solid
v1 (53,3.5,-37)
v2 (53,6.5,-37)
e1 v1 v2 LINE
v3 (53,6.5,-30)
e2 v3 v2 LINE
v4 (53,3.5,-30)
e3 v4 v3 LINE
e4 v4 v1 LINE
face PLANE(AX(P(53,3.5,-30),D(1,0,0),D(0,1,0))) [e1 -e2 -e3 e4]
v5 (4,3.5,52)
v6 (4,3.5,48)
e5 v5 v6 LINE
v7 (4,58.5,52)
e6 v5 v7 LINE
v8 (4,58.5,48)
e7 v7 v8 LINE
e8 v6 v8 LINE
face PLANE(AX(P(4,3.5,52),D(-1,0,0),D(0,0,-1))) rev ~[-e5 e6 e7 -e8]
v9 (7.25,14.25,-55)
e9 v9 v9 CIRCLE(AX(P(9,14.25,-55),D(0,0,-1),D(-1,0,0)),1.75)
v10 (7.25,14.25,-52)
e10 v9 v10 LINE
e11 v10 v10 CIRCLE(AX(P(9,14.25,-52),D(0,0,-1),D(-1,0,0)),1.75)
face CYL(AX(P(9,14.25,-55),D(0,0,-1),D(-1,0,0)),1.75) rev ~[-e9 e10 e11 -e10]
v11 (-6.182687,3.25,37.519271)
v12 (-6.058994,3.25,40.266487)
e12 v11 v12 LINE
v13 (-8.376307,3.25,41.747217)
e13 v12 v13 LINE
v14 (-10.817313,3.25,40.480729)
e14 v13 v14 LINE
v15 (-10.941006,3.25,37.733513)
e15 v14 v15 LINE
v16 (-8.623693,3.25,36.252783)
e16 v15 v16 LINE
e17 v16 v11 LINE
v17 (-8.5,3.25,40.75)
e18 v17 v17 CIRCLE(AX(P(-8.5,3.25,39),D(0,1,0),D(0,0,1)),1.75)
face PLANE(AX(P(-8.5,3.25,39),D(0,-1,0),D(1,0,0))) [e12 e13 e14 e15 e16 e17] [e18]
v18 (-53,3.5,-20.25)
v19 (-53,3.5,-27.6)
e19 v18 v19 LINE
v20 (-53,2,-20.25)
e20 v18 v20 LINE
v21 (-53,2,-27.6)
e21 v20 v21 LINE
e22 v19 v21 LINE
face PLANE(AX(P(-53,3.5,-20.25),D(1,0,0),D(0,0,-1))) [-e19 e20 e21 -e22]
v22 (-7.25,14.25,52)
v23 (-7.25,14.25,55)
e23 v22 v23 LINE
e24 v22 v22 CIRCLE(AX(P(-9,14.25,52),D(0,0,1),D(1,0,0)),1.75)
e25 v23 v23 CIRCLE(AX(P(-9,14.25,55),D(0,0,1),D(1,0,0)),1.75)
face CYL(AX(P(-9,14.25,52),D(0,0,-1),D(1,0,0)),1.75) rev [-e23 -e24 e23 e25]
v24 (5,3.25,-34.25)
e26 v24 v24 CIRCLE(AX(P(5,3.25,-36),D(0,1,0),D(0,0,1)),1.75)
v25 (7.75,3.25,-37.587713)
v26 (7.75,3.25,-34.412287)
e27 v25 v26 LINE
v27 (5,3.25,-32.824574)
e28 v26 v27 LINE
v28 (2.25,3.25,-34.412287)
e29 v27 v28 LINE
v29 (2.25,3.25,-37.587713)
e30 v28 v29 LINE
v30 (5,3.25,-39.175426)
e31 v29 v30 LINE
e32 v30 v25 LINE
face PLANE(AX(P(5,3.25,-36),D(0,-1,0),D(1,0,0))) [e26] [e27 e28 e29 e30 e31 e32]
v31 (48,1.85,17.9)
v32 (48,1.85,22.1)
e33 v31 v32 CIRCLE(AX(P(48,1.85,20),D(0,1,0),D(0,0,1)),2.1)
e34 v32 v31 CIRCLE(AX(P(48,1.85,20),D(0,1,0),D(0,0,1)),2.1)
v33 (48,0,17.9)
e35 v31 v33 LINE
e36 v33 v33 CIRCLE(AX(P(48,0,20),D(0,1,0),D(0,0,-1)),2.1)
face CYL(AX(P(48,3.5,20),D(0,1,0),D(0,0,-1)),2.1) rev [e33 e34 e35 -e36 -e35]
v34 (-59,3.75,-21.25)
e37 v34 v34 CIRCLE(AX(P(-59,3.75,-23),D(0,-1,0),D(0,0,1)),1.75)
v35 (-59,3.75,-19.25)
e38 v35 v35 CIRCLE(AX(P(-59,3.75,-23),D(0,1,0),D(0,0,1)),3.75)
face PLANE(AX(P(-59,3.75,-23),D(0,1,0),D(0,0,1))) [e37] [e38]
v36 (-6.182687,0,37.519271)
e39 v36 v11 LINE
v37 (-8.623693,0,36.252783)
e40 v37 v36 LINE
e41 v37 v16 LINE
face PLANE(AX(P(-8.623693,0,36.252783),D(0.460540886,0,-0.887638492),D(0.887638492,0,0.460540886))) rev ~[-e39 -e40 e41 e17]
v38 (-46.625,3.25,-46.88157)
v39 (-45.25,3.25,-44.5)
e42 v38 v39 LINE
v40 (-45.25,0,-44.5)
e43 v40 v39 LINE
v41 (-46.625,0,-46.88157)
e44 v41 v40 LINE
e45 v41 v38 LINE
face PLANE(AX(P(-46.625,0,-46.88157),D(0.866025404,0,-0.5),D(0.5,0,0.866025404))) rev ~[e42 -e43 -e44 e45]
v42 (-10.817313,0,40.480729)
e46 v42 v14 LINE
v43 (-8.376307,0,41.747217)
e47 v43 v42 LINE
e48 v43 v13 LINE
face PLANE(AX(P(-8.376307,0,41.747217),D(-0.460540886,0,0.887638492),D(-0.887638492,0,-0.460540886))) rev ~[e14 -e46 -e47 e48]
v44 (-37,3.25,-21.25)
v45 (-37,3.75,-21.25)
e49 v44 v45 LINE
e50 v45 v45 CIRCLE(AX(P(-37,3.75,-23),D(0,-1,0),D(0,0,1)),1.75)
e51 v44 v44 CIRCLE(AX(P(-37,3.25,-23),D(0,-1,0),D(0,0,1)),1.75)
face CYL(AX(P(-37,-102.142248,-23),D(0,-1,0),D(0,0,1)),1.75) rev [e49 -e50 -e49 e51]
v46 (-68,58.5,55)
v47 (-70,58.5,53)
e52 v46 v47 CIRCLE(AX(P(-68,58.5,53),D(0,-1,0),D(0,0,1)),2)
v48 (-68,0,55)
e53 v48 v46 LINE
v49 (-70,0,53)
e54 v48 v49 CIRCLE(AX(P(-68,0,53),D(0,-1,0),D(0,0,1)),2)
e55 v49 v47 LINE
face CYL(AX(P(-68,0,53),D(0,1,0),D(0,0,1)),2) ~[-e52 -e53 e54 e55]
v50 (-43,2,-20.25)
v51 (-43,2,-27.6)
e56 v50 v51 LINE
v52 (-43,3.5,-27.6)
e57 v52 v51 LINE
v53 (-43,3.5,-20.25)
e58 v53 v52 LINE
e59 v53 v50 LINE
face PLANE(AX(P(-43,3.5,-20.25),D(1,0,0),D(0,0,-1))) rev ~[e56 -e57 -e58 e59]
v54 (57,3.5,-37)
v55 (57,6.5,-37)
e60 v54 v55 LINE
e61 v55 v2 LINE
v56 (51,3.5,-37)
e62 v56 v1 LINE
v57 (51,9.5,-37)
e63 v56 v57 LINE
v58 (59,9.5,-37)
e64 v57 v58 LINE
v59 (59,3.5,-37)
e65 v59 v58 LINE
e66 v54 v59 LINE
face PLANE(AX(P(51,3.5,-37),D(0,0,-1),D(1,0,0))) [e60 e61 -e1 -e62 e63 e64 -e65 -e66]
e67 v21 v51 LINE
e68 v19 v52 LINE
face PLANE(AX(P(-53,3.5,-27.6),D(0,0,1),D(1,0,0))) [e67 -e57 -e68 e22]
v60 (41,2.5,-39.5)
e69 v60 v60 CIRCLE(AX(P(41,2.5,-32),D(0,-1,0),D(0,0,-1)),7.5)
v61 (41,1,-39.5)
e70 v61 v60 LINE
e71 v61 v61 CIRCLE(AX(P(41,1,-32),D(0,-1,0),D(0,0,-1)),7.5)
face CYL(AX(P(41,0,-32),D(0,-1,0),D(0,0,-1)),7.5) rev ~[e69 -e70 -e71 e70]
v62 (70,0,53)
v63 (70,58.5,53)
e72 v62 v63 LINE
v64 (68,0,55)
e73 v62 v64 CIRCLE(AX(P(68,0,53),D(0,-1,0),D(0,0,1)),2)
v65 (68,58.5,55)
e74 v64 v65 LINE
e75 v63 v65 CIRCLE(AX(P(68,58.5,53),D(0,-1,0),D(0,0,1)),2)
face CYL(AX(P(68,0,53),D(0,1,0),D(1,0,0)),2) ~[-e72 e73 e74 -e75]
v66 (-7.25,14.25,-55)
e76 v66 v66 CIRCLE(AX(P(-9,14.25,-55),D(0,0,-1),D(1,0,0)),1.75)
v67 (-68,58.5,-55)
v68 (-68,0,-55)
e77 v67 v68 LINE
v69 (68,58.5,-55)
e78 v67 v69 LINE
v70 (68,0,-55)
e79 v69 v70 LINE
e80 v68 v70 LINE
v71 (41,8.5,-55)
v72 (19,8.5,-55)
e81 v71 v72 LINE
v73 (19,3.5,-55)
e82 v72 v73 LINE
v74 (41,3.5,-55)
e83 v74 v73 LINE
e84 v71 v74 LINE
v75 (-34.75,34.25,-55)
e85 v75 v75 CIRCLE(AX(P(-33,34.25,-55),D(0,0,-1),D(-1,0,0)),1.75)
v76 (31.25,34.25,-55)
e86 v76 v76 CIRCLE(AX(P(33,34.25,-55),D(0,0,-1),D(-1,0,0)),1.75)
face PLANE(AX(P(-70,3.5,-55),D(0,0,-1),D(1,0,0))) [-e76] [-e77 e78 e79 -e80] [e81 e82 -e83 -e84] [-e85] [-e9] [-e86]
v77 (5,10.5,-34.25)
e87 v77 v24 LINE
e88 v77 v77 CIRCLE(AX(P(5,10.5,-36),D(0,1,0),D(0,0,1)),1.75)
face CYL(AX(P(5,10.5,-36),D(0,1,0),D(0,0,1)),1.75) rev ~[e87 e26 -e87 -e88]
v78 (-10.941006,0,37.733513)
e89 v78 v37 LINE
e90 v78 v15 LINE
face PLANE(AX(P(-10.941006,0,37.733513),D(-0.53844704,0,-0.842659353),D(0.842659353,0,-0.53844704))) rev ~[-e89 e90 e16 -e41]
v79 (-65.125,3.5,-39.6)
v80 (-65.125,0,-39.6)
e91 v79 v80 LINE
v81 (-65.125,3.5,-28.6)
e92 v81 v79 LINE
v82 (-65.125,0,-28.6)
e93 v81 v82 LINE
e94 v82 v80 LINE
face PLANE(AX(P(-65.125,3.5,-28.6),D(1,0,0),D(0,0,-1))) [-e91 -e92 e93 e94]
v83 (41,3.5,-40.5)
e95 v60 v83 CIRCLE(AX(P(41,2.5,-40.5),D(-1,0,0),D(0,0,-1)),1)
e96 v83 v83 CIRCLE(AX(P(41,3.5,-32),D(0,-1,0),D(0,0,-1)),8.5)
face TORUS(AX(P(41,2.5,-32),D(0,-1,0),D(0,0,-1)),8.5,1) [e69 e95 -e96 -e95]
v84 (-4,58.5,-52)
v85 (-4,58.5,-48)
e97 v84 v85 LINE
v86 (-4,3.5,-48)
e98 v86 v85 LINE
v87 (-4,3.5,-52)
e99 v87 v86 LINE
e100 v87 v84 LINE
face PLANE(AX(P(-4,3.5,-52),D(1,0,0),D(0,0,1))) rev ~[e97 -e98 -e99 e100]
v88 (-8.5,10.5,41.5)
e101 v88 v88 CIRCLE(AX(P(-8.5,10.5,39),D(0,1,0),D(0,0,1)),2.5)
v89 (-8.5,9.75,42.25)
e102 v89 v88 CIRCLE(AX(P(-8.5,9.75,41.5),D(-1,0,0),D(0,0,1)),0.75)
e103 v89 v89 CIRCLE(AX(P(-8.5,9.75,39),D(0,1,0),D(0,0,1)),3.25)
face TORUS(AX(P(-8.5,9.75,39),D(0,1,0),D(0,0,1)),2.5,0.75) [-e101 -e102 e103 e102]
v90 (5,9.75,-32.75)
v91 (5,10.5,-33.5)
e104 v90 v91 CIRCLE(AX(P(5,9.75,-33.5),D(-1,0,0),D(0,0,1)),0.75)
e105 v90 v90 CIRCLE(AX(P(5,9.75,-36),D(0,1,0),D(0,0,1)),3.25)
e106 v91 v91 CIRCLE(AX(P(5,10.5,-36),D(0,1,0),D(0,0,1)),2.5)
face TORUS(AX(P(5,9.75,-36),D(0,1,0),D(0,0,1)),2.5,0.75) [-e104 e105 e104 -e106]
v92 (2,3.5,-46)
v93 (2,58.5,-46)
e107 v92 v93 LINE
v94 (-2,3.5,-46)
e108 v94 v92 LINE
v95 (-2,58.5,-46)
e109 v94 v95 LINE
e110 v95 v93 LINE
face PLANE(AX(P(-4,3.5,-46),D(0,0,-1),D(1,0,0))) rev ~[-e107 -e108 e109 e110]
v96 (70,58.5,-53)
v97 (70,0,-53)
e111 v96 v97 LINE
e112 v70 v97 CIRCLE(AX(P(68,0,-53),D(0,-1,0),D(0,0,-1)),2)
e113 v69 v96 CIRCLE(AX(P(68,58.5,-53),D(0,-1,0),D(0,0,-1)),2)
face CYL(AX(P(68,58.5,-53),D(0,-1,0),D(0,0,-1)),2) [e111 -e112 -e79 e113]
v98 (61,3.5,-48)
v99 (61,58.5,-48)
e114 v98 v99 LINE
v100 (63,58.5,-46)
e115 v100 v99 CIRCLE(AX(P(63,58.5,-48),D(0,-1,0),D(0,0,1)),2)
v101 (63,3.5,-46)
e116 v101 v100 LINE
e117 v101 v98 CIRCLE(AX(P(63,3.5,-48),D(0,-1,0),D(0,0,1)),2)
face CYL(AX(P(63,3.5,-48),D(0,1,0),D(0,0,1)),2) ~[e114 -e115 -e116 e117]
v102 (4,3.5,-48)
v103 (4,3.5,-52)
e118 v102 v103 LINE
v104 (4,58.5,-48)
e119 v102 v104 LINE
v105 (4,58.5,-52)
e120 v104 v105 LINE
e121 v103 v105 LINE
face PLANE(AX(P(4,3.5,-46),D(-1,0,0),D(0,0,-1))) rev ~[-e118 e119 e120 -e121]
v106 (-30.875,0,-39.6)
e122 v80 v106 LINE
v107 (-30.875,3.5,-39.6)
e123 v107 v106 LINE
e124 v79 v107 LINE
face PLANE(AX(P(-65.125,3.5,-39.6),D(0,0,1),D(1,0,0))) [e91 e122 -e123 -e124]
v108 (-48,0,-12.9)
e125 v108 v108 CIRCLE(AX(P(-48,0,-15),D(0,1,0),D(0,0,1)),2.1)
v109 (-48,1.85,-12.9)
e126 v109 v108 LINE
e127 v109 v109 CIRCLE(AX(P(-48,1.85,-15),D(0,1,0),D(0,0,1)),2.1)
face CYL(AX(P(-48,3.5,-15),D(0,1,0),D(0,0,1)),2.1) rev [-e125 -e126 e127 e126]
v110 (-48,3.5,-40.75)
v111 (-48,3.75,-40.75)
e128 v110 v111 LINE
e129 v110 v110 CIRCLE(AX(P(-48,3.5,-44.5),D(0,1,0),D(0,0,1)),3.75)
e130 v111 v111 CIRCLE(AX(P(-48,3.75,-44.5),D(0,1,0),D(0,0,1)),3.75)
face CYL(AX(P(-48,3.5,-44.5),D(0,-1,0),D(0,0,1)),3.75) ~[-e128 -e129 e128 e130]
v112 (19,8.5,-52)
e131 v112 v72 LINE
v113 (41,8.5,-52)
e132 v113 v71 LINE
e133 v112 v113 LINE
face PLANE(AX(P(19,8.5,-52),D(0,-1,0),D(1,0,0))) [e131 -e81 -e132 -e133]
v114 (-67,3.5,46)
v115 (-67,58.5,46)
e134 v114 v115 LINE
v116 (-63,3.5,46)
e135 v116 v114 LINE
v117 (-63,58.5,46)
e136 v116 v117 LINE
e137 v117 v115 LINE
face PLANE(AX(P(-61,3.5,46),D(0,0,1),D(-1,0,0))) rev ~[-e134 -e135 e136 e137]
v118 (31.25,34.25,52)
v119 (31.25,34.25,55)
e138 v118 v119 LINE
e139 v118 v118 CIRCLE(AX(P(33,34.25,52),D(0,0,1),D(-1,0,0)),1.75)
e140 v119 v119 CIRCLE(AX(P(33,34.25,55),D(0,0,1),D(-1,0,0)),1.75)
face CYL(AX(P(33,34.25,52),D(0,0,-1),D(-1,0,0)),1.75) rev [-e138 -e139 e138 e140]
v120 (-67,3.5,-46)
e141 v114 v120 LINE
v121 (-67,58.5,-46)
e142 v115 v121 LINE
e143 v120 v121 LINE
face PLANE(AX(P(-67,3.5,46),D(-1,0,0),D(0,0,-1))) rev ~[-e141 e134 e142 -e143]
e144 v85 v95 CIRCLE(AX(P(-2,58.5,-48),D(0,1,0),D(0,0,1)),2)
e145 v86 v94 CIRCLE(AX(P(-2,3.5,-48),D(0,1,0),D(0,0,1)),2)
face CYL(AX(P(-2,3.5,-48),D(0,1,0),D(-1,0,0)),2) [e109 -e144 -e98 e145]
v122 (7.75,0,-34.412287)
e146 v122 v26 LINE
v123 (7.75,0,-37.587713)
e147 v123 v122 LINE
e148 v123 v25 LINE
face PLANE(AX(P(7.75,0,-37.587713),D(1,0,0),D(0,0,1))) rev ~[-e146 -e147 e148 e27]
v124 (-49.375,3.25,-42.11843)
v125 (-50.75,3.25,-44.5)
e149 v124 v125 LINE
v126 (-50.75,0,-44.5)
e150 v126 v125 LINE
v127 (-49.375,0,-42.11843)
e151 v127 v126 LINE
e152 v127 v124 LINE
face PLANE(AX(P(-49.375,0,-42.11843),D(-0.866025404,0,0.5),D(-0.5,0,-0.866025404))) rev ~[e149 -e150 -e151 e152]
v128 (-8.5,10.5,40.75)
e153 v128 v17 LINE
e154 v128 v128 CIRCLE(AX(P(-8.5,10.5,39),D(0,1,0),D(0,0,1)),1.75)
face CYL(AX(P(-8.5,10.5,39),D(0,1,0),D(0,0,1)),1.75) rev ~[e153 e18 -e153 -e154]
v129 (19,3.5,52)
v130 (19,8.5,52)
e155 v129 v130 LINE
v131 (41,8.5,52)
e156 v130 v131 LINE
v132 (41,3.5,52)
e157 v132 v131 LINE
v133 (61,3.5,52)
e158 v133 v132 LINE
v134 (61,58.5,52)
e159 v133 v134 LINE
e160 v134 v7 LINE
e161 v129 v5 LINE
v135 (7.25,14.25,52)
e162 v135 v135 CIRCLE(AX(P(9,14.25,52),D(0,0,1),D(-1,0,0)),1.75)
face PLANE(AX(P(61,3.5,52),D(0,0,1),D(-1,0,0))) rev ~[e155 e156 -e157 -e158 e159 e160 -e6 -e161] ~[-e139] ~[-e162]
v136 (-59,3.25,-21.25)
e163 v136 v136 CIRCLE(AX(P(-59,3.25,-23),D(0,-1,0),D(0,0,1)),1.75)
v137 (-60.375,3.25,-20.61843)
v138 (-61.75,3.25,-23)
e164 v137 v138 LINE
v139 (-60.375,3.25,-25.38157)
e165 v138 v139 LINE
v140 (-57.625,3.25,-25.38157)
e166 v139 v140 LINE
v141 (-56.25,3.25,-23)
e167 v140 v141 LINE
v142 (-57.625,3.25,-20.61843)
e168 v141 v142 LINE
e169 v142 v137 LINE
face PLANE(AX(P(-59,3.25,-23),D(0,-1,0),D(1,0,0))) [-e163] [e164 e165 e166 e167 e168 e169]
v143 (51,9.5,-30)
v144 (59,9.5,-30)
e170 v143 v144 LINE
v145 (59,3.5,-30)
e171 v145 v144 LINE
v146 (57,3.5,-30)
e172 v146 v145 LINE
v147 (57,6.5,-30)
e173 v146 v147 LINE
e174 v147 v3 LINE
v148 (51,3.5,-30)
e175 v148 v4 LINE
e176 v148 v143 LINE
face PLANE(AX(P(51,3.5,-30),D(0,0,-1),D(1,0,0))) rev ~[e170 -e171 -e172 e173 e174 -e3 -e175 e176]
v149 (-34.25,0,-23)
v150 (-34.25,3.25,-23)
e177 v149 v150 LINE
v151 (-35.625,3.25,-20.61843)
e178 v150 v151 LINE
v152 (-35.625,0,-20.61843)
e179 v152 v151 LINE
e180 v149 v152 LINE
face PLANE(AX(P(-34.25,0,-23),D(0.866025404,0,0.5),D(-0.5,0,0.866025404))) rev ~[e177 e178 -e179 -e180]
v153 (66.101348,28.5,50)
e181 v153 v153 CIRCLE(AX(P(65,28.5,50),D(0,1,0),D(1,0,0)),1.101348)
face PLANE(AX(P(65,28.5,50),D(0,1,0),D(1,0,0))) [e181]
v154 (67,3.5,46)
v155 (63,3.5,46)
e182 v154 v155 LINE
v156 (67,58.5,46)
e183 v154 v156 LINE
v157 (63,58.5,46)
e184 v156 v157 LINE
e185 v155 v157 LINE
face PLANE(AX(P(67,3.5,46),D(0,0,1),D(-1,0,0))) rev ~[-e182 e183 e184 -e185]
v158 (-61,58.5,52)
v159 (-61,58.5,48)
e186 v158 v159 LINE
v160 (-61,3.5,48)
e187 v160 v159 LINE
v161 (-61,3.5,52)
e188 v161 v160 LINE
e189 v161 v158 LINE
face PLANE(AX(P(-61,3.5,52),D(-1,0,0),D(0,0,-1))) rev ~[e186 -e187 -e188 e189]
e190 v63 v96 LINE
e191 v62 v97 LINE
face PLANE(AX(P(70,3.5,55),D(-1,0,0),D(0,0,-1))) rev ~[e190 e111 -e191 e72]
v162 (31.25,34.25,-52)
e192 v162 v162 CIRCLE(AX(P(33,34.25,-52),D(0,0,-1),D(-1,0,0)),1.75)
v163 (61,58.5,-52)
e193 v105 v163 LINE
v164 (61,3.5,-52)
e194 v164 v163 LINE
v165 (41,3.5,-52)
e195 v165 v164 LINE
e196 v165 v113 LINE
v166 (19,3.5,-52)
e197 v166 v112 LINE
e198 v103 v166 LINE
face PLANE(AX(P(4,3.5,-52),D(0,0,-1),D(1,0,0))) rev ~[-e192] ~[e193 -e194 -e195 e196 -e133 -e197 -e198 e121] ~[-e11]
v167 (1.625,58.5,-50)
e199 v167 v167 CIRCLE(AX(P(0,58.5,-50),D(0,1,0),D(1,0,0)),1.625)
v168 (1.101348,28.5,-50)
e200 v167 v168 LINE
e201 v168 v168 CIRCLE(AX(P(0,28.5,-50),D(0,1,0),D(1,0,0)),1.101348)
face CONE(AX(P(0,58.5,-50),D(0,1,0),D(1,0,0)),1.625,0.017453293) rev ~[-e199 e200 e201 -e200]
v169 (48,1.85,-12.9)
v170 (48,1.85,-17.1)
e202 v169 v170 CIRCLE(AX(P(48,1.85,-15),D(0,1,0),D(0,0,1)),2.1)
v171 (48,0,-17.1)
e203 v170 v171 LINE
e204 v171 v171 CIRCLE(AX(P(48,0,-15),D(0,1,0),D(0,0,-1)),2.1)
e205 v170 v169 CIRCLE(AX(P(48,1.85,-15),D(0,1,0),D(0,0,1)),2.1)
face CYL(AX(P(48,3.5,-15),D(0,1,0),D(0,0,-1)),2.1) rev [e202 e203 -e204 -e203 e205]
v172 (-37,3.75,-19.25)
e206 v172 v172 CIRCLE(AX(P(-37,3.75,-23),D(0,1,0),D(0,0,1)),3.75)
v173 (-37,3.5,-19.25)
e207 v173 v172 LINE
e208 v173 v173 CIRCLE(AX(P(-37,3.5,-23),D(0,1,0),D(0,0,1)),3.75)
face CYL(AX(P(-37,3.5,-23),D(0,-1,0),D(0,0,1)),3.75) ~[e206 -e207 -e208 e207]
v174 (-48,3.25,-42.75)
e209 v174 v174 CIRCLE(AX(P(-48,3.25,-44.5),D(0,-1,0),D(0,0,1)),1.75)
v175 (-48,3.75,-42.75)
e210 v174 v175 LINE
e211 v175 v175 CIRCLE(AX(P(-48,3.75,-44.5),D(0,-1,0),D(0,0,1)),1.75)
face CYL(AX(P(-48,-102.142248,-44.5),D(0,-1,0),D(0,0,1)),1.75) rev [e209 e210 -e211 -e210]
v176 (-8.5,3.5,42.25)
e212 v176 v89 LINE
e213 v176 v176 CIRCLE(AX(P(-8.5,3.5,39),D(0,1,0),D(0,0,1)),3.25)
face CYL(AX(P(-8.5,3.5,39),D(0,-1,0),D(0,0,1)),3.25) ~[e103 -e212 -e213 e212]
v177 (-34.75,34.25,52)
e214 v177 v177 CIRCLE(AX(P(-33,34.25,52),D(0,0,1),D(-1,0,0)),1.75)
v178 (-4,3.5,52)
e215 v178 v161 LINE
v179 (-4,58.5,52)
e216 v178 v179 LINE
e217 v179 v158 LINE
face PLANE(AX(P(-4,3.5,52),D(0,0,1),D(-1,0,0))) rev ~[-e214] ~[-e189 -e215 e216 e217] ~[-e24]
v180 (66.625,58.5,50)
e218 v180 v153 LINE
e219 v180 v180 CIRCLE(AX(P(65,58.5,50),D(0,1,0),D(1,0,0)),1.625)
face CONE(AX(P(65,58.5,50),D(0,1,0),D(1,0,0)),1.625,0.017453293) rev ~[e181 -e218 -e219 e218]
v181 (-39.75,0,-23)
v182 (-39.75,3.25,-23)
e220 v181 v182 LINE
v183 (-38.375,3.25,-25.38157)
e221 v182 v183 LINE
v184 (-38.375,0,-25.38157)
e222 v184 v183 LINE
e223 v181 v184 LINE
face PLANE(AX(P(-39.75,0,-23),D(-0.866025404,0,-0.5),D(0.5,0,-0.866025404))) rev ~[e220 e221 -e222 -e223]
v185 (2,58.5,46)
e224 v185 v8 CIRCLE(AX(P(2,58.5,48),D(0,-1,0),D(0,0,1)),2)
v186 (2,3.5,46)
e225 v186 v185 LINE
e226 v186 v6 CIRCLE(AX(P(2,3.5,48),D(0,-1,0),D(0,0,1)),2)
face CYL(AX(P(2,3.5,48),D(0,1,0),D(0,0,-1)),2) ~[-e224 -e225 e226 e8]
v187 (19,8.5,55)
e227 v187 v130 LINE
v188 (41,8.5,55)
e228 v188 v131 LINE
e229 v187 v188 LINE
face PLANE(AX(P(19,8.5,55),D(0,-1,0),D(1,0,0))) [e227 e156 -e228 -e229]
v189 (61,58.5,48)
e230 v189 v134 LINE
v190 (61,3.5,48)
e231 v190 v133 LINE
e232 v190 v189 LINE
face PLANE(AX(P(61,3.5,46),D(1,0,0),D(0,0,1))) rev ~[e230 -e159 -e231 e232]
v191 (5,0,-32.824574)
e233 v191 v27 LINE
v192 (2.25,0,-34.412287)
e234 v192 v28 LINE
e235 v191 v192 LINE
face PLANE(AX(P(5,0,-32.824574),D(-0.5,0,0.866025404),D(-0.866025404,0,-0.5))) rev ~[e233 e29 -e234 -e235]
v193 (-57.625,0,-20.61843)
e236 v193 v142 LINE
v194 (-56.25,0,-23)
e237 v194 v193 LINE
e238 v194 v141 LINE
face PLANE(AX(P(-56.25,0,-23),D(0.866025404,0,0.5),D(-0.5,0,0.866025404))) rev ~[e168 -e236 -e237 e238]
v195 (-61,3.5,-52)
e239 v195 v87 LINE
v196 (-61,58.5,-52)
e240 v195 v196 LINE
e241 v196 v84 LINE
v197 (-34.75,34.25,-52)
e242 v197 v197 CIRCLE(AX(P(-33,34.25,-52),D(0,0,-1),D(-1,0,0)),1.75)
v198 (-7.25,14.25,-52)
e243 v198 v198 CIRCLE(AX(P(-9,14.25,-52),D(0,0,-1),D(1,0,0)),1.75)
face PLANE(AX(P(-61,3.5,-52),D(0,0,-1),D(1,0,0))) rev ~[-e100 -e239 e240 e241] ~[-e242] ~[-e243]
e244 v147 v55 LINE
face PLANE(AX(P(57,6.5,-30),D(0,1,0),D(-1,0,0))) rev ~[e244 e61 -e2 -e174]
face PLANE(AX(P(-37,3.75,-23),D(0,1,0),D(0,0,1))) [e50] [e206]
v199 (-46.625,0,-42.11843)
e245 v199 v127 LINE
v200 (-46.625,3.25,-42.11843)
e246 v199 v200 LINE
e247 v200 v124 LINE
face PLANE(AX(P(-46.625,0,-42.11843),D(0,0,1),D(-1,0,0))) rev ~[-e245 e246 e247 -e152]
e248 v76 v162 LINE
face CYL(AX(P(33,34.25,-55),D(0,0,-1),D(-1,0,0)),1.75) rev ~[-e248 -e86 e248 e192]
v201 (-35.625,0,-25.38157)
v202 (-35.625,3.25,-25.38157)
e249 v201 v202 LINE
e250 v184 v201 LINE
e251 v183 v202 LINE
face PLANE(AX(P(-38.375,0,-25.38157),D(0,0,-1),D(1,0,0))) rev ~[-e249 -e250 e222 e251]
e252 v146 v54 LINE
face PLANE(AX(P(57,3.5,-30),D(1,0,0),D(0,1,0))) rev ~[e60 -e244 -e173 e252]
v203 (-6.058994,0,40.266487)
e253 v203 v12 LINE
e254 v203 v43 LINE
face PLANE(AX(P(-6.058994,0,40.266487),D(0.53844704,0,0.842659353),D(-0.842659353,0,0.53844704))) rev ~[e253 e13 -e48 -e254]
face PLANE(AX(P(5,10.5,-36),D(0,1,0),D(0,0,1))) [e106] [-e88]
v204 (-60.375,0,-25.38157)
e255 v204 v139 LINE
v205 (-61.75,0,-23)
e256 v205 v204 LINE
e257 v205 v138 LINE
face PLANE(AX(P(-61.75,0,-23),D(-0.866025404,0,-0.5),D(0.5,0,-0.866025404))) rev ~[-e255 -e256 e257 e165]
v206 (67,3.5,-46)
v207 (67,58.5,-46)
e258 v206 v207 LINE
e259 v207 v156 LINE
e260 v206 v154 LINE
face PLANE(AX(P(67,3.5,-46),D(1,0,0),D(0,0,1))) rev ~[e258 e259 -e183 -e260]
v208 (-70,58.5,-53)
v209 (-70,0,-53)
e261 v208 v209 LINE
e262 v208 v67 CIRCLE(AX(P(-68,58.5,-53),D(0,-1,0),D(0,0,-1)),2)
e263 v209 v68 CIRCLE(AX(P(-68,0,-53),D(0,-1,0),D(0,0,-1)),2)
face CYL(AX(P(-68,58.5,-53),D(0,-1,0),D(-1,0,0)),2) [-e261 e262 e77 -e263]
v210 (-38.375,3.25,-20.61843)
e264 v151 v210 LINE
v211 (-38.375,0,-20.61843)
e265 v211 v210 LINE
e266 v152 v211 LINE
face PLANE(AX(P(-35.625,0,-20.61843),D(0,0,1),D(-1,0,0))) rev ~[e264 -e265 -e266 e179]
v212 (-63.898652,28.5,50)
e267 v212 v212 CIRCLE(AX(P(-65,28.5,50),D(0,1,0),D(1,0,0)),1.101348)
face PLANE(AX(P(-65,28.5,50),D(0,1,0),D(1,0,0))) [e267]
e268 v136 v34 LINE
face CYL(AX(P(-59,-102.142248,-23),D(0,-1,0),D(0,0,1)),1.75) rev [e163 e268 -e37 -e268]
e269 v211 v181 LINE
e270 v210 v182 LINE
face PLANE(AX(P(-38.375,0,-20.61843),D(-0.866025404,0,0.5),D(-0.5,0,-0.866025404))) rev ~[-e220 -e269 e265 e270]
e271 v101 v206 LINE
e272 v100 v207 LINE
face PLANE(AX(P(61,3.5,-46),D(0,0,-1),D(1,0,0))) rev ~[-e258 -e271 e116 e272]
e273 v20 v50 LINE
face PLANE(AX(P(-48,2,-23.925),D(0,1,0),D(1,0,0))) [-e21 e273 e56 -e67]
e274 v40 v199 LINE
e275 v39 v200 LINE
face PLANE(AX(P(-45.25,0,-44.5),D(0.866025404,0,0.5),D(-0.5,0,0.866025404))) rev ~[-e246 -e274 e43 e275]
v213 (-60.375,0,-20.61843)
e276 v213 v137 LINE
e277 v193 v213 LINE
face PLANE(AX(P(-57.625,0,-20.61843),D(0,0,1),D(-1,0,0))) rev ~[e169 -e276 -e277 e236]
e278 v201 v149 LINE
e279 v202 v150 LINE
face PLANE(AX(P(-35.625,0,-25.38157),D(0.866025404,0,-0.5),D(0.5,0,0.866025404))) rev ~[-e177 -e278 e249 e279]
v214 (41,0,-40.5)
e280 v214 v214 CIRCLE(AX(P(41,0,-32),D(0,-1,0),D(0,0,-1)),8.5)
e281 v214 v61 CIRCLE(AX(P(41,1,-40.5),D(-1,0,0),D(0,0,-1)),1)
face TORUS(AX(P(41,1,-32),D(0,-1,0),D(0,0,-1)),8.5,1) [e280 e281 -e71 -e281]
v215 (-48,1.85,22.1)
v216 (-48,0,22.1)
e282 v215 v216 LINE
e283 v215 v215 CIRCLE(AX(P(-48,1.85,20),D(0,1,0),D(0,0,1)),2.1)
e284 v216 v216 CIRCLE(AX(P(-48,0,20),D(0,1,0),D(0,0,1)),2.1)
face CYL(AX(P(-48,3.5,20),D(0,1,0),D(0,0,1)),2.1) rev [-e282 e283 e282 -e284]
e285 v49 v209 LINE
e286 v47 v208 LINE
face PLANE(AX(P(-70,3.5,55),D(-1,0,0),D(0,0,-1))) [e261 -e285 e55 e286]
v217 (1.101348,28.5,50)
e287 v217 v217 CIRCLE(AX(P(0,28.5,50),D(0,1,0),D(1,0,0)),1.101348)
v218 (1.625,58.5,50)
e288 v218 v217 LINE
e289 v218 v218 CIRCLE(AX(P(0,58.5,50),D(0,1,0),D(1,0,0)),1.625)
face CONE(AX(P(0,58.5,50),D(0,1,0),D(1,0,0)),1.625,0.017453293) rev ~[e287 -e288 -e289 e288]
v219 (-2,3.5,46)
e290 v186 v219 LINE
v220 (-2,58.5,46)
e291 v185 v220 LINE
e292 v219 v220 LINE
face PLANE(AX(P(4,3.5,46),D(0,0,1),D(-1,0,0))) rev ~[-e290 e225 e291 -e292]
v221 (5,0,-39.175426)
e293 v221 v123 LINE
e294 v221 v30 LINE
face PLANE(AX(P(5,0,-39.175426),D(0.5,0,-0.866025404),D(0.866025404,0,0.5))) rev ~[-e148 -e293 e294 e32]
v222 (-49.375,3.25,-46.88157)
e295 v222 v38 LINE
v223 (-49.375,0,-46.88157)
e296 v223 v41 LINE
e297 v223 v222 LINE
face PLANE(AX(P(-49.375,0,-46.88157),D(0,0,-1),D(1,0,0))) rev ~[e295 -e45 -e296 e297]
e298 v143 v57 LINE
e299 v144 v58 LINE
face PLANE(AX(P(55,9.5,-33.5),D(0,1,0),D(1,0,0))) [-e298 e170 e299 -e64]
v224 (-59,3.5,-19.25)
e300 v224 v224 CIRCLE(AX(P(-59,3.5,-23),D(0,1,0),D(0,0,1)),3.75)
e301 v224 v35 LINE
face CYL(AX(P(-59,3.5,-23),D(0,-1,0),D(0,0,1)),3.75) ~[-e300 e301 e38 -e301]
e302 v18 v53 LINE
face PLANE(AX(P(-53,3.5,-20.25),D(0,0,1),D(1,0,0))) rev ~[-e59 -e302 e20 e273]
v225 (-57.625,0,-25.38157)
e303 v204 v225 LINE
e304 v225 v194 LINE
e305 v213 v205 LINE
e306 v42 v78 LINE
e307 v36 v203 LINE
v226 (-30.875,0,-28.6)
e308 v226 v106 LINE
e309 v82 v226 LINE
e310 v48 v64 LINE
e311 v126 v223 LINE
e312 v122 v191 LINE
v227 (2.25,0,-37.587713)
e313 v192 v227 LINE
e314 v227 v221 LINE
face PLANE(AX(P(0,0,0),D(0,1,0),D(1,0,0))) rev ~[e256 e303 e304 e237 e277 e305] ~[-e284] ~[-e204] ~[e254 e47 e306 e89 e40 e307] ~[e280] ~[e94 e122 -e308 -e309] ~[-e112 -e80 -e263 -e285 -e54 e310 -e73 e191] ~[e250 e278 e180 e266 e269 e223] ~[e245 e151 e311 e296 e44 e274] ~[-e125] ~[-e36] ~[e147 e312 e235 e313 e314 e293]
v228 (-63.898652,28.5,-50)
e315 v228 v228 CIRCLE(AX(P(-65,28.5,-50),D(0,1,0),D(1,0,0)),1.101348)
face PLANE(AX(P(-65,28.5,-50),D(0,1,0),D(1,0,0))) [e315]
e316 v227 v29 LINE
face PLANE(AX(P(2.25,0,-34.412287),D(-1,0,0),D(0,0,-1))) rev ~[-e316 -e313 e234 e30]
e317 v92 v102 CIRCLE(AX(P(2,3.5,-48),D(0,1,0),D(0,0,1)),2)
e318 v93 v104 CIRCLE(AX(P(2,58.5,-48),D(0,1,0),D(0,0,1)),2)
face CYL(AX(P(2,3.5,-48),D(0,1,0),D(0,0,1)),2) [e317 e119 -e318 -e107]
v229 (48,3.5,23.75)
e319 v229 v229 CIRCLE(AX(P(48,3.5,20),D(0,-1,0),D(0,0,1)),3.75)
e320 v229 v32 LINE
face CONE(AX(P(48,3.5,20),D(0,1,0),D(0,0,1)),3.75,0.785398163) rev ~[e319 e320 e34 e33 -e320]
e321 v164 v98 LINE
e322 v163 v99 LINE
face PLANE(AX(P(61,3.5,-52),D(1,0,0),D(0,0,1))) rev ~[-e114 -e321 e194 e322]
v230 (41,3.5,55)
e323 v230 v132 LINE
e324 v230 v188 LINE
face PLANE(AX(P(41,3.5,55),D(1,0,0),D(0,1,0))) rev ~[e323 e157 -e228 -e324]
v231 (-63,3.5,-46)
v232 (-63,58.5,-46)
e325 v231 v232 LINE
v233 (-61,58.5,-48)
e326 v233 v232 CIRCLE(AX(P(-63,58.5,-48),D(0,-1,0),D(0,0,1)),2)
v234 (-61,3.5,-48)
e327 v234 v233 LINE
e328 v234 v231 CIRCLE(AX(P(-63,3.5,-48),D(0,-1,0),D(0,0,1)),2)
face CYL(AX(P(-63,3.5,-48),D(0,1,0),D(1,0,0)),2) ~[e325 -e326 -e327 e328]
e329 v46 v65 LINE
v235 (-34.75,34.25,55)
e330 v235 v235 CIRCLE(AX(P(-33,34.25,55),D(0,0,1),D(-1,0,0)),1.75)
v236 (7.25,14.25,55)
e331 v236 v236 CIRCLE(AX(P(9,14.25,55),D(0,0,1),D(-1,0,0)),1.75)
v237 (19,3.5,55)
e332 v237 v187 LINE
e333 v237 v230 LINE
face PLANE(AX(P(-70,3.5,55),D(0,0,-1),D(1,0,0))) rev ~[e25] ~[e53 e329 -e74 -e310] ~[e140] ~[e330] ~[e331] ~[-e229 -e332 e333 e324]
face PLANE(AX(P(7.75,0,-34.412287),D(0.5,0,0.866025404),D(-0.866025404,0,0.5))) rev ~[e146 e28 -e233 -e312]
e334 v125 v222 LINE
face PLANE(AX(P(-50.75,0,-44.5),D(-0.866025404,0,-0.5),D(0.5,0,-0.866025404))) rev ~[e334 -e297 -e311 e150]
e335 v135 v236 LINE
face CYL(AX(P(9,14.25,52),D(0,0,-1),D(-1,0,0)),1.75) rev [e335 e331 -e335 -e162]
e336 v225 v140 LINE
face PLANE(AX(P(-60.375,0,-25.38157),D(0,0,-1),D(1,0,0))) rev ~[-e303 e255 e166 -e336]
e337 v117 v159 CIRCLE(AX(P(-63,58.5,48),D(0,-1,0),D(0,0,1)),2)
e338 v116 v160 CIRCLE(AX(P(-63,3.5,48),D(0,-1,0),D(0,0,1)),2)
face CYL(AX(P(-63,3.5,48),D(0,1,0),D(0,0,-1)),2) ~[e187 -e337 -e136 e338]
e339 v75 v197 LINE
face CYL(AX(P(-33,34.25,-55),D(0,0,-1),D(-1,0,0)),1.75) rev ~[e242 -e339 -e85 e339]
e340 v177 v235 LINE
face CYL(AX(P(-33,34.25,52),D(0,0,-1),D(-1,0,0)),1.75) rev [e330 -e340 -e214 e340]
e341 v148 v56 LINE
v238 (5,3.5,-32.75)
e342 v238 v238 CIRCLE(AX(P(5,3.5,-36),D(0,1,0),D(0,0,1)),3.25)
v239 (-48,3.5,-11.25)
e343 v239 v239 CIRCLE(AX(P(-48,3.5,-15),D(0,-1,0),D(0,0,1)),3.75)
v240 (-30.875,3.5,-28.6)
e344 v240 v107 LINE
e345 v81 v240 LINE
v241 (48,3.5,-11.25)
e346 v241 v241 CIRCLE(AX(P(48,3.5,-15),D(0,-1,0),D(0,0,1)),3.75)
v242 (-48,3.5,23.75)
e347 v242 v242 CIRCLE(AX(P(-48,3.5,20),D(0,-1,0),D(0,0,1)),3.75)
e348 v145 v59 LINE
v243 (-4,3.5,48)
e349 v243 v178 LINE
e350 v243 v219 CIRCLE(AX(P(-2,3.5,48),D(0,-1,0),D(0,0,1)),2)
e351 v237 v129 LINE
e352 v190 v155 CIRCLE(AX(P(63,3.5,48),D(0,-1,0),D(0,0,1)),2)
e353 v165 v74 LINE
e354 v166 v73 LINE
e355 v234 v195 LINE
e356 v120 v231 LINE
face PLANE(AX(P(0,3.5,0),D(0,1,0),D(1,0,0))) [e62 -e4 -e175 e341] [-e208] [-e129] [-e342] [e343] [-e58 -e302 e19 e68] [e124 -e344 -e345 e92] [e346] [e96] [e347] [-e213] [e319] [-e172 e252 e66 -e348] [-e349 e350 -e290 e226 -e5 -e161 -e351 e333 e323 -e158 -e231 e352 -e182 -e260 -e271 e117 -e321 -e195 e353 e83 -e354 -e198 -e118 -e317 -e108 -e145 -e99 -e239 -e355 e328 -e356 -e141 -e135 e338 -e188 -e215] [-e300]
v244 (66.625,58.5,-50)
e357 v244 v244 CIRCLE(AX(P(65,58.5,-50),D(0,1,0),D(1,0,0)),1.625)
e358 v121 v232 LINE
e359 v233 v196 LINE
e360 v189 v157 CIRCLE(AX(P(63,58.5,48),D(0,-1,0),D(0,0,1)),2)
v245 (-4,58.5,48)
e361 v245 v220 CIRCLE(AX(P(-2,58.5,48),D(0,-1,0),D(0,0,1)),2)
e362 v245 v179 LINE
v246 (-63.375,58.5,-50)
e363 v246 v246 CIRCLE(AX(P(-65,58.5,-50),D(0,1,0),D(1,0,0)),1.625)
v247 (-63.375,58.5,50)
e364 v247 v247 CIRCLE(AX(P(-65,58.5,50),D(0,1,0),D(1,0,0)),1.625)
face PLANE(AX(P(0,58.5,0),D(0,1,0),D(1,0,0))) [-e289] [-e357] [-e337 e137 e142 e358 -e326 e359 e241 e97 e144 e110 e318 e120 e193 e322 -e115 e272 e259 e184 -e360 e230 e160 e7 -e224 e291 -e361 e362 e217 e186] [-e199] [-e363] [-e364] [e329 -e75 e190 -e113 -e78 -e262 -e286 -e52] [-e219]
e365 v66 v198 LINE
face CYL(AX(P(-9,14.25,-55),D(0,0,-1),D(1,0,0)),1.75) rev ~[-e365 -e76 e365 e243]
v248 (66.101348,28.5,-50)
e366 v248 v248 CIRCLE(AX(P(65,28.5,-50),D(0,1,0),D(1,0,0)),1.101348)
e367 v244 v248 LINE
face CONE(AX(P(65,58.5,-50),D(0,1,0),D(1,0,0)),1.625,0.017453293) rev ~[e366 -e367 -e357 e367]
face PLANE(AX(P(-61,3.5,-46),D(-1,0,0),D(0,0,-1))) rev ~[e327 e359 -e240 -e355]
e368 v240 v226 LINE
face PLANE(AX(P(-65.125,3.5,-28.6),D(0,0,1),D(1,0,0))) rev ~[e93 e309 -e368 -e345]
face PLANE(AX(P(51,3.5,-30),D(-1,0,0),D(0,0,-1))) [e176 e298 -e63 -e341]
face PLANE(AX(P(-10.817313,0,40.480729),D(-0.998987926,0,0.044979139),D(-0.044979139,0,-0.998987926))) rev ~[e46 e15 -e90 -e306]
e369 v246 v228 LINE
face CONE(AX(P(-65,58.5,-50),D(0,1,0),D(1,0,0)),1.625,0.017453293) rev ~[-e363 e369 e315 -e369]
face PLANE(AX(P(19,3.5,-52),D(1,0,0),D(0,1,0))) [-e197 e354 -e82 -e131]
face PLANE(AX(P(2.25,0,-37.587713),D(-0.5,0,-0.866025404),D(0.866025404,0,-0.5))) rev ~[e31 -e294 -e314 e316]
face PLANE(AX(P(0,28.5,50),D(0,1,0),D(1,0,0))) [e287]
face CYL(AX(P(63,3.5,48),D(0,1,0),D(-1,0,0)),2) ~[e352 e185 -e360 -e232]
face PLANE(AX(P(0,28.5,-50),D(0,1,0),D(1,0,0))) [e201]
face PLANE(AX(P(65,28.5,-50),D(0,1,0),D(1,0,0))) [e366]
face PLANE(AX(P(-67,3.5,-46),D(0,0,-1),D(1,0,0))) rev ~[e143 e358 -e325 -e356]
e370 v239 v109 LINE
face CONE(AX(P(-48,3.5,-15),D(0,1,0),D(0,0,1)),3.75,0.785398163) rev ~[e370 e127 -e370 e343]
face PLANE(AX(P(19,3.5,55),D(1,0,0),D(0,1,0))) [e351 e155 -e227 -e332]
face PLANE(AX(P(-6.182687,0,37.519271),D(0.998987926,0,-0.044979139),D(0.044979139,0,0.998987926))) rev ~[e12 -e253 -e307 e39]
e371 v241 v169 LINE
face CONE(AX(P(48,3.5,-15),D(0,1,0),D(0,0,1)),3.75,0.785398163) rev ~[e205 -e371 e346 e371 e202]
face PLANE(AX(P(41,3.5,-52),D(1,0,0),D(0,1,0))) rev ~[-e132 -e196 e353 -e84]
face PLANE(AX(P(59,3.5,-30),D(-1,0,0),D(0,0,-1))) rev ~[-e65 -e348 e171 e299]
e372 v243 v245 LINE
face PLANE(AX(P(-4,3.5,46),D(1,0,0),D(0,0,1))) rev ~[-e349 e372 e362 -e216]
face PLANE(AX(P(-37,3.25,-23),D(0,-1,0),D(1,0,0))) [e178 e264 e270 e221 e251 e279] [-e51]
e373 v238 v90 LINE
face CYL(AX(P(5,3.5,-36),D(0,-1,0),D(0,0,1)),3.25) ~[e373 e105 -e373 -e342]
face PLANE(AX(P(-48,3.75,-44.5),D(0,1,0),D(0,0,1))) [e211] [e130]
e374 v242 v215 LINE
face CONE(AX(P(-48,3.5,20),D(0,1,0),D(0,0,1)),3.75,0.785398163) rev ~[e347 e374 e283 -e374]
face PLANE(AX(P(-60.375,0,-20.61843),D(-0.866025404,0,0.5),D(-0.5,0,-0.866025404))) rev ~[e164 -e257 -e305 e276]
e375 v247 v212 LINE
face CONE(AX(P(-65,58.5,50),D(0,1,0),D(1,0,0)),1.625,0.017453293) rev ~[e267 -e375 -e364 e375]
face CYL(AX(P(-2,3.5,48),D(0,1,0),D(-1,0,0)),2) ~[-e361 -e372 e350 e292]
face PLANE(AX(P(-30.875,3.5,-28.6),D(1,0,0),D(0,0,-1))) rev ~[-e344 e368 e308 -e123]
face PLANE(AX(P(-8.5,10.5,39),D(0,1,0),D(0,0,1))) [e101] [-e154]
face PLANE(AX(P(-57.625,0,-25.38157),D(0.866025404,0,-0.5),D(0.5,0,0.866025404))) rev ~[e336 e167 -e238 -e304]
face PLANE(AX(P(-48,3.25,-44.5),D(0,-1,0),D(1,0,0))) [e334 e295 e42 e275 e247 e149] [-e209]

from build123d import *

# Parameters (mm, degrees)
SKETCH1_W                             = 140
SKETCH1_H                             = 110
BOTTOM_DEPTH                          = 3.5
SKETCH3_W                             = 140
SKETCH3_H                             = 110
WALL_DEPTH                            = 55
SKETCH4_R                             = 1.625
TOP_PLATE_SCREW_HOLES_DEPTH           = 30
TOP_PLATE_SCREW_HOLES_DRAFT           = -1
TOP_PLATE_SCREW_HOLES_PROFILE_2_DEPTH = 30
TOP_PLATE_SCREW_HOLES_PROFILE_2_DRAFT = -1
TOP_PLATE_SCREW_HOLES_PROFILE_3_DEPTH = 30
TOP_PLATE_SCREW_HOLES_PROFILE_3_DRAFT = -1
TOP_PLATE_SCREW_HOLES_PROFILE_4_DEPTH = 30
TOP_PLATE_SCREW_HOLES_PROFILE_4_DRAFT = -1
TOP_PLATE_SCREW_HOLES_PROFILE_5_DEPTH = 30
TOP_PLATE_SCREW_HOLES_PROFILE_5_DRAFT = -1
TOP_PLATE_SCREW_HOLES_PROFILE_6_DEPTH = 30
TOP_PLATE_SCREW_HOLES_PROFILE_6_DRAFT = -1
FILLET14_R                            = 2
FILLET13_R                            = 2
FILLET12_R                            = 2
FILLET11_R                            = 2
FILLET1_R                             = 2
FILLET2_R                             = 2
FILLET3_R                             = 2
FILLET4_R                             = 2
FILLET5_R                             = 2
FILLET6_R                             = 2
FILLET7_R                             = 2
FILLET8_R                             = 2
M4_MOUNT_R                            = 2.1
M4_MOUNT_CUT_DEPTH                    = 105.642247682
SKETCH7_R                             = 7.5
USB_CABEL_CUT_DEPTH                   = 107.523471592
FILLET9_R                             = 1
FILLET10_R                            = 1
SKETCH14_W                            = 8
SKETCH14_H                            = 7
BOSS_EXTRUDE1_DEPTH                   = 6
SKETCH16_W                            = 4
SKETCH16_H                            = 3
CUT_EXTRUDE6_DEPTH                    = 7
SKETCH9_R                             = 3.25
CURCUIT_BOARD_MOUNT_POSTS_EXT_DEPTH   = 7
SKETCH10_R                            = 1.75
M3_SCREW_CURCUIT_MOUNT_CUT_DEPTH      = 102.138518874
M3_HEAD_CIRCUIT_MOUNT_CUT_DEPTH       = 3.25
FILLET15_R                            = 0.75
FILLET16_R                            = 0.75
SKETCH18_R                            = 1.75
TOP_SCREW_DEPTH                       = 3
SKETCH19_W                            = 22
SKETCH19_H                            = 5
TOP_CABLES_DEPTH                      = 10
SKETCH20_W                            = 22
SKETCH20_H                            = 5
BOTTOM_CABLES_DEPTH                   = 3
BOTTOM_SCREW_START                    = -3
SKETCH21_R                            = 1.75
BOTTOM_SCREW_DEPTH                    = 3
SKETCH22_W                            = 34.25
SKETCH22_H                            = 11
CONNECTORS_CUT_DEPTH                  = 3.5
SKETCH24_R                            = 3.75
STANDOFFS_DEPTH                       = 0.25
M3_SCREW_HOLE_DEPTH                   = 105.642247682
M3_SCREW_HOLE_DEPTH_BACK              = 105.642247682
SKETCH23_R                            = 1.75
M3_NUT_DEPTH                          = 3.25
SKETCH26_W                            = 10
SKETCH26_H                            = 7.35
ROOM_FOR_PCB_PINS_DEPTH               = 1.5


with BuildPart() as part:
    # Sketch1 → Bottom (new body)
    with BuildSketch(Plane(origin=(0, 0, 0), x_dir=(1, 0, 0), z_dir=(0, 1, 0))):
        Rectangle(SKETCH1_W, SKETCH1_H)
    extrude(amount=BOTTOM_DEPTH)

    # Sketch3 → Wall (add)
    with BuildSketch(Plane(origin=(0, 3.5, 0), x_dir=(1, 0, 0), z_dir=(0, 1, 0))):
        Rectangle(SKETCH3_W, SKETCH3_H)
        Polygon((-61, 52), (-4, 52), (-4, 46), (4, 46), (4, 52), (61, 52), (61, 46), (67, 46), (67, -46), (61, -46), (61, -52), (4, -52), (4, -46), (-4, -46), (-4, -52), (-61, -52), (-61, -46), (-67, -46), (-67, 46), (-61, 46), align=None, mode=Mode.SUBTRACT)
    extrude(amount=WALL_DEPTH)


with BuildPart() as top_plate_screw_holes_tool:
    # Sketch4 → Top Plate Screw Holes (with draft: the straight prism first)
    with BuildSketch(Plane(origin=(0, 58.5, 0), x_dir=(1, 0, 0), z_dir=(0, 1, 0))):
        with Locations((-65, 50)):
            Circle(SKETCH4_R)
    extrude(amount=-TOP_PLATE_SCREW_HOLES_DEPTH)
    # Top Plate Screw Holes: the draft: its side faces are tilted about the plane it starts from
    top_plate_screw_holes_sides = [top_plate_screw_holes_tool.faces().sort_by_distance(p)[0] for p in [
        (-66.625, 43.5, -50),
    ]]
    draft(top_plate_screw_holes_sides, Plane(origin=(0, 58.5, 0), x_dir=(1, 0, 0), z_dir=(0, 1, 0)), TOP_PLATE_SCREW_HOLES_DRAFT)


with BuildPart() as part_1:
    add(part.part)

    # Top Plate Screw Holes: cut by top_plate_screw_holes_tool
    add(top_plate_screw_holes_tool.part, mode=Mode.SUBTRACT)


with BuildPart() as top_plate_screw_holes_profile_2_tool:
    # Sketch4 → Top Plate Screw Holes profile 2 (with draft: the straight prism first)
    with BuildSketch(Plane(origin=(0, 58.5, 0), x_dir=(1, 0, 0), z_dir=(0, 1, 0))):
        with Locations((65, 50)):
            Circle(SKETCH4_R)
    extrude(amount=-TOP_PLATE_SCREW_HOLES_PROFILE_2_DEPTH)
    # Top Plate Screw Holes profile 2: the draft: its side faces are tilted about the plane it starts from
    top_plate_screw_holes_profile_2_sides = [top_plate_screw_holes_profile_2_tool.faces().sort_by_distance(p)[0] for p in [
        (63.375, 43.5, -50),
    ]]
    draft(top_plate_screw_holes_profile_2_sides, Plane(origin=(0, 58.5, 0), x_dir=(1, 0, 0), z_dir=(0, 1, 0)), TOP_PLATE_SCREW_HOLES_PROFILE_2_DRAFT)


with BuildPart() as part_2:
    add(part_1.part)

    # Top Plate Screw Holes profile 2: cut by top_plate_screw_holes_profile_2_tool
    add(top_plate_screw_holes_profile_2_tool.part, mode=Mode.SUBTRACT)


with BuildPart() as top_plate_screw_holes_profile_3_tool:
    # Sketch4 → Top Plate Screw Holes profile 3 (with draft: the straight prism first)
    with BuildSketch(Plane(origin=(0, 58.5, 0), x_dir=(1, 0, 0), z_dir=(0, 1, 0))):
        with Locations((65, -50)):
            Circle(SKETCH4_R)
    extrude(amount=-TOP_PLATE_SCREW_HOLES_PROFILE_3_DEPTH)
    # Top Plate Screw Holes profile 3: the draft: its side faces are tilted about the plane it starts from
    top_plate_screw_holes_profile_3_sides = [top_plate_screw_holes_profile_3_tool.faces().sort_by_distance(p)[0] for p in [
        (63.375, 43.5, 50),
    ]]
    draft(top_plate_screw_holes_profile_3_sides, Plane(origin=(0, 58.5, 0), x_dir=(1, 0, 0), z_dir=(0, 1, 0)), TOP_PLATE_SCREW_HOLES_PROFILE_3_DRAFT)


with BuildPart() as part_3:
    add(part_2.part)

    # Top Plate Screw Holes profile 3: cut by top_plate_screw_holes_profile_3_tool
    add(top_plate_screw_holes_profile_3_tool.part, mode=Mode.SUBTRACT)


with BuildPart() as top_plate_screw_holes_profile_4_tool:
    # Sketch4 → Top Plate Screw Holes profile 4 (with draft: the straight prism first)
    with BuildSketch(Plane(origin=(0, 58.5, 0), x_dir=(1, 0, 0), z_dir=(0, 1, 0))):
        with Locations((-65, -50)):
            Circle(SKETCH4_R)
    extrude(amount=-TOP_PLATE_SCREW_HOLES_PROFILE_4_DEPTH)
    # Top Plate Screw Holes profile 4: the draft: its side faces are tilted about the plane it starts from
    top_plate_screw_holes_profile_4_sides = [top_plate_screw_holes_profile_4_tool.faces().sort_by_distance(p)[0] for p in [
        (-66.625, 43.5, 50),
    ]]
    draft(top_plate_screw_holes_profile_4_sides, Plane(origin=(0, 58.5, 0), x_dir=(1, 0, 0), z_dir=(0, 1, 0)), TOP_PLATE_SCREW_HOLES_PROFILE_4_DRAFT)


with BuildPart() as part_4:
    add(part_3.part)

    # Top Plate Screw Holes profile 4: cut by top_plate_screw_holes_profile_4_tool
    add(top_plate_screw_holes_profile_4_tool.part, mode=Mode.SUBTRACT)


with BuildPart() as top_plate_screw_holes_profile_5_tool:
    # Sketch4 → Top Plate Screw Holes profile 5 (with draft: the straight prism first)
    with BuildSketch(Plane(origin=(0, 58.5, 0), x_dir=(1, 0, 0), z_dir=(0, 1, 0))):
        with Locations((0, 50)):
            Circle(SKETCH4_R)
    extrude(amount=-TOP_PLATE_SCREW_HOLES_PROFILE_5_DEPTH)
    # Top Plate Screw Holes profile 5: the draft: its side faces are tilted about the plane it starts from
    top_plate_screw_holes_profile_5_sides = [top_plate_screw_holes_profile_5_tool.faces().sort_by_distance(p)[0] for p in [
        (-1.625, 43.5, -50),
    ]]
    draft(top_plate_screw_holes_profile_5_sides, Plane(origin=(0, 58.5, 0), x_dir=(1, 0, 0), z_dir=(0, 1, 0)), TOP_PLATE_SCREW_HOLES_PROFILE_5_DRAFT)


with BuildPart() as part_5:
    add(part_4.part)

    # Top Plate Screw Holes profile 5: cut by top_plate_screw_holes_profile_5_tool
    add(top_plate_screw_holes_profile_5_tool.part, mode=Mode.SUBTRACT)


with BuildPart() as top_plate_screw_holes_profile_6_tool:
    # Sketch4 → Top Plate Screw Holes profile 6 (with draft: the straight prism first)
    with BuildSketch(Plane(origin=(0, 58.5, 0), x_dir=(1, 0, 0), z_dir=(0, 1, 0))):
        with Locations((0, -50)):
            Circle(SKETCH4_R)
    extrude(amount=-TOP_PLATE_SCREW_HOLES_PROFILE_6_DEPTH)
    # Top Plate Screw Holes profile 6: the draft: its side faces are tilted about the plane it starts from
    top_plate_screw_holes_profile_6_sides = [top_plate_screw_holes_profile_6_tool.faces().sort_by_distance(p)[0] for p in [
        (-1.625, 43.5, 50),
    ]]
    draft(top_plate_screw_holes_profile_6_sides, Plane(origin=(0, 58.5, 0), x_dir=(1, 0, 0), z_dir=(0, 1, 0)), TOP_PLATE_SCREW_HOLES_PROFILE_6_DRAFT)


with BuildPart() as part_6:
    add(part_5.part)

    # Top Plate Screw Holes profile 6: cut by top_plate_screw_holes_profile_6_tool
    add(top_plate_screw_holes_profile_6_tool.part, mode=Mode.SUBTRACT)

    # Fillet14
    fillet14_edges = [part_6.edges().sort_by_distance(p)[0] for p in [
        (-4, 31, 46),
    ]]
    fillet(fillet14_edges, radius=FILLET14_R)

    # Fillet13
    fillet13_edges = [part_6.edges().sort_by_distance(p)[0] for p in [
        (4, 31, 46),
    ]]
    fillet(fillet13_edges, radius=FILLET13_R)

    # Fillet12
    fillet12_edges = [part_6.edges().sort_by_distance(p)[0] for p in [
        (-4, 31, -46),
    ]]
    fillet(fillet12_edges, radius=FILLET12_R)

    # Fillet11
    fillet11_edges = [part_6.edges().sort_by_distance(p)[0] for p in [
        (4, 31, -46),
    ]]
    fillet(fillet11_edges, radius=FILLET11_R)

    # Fillet1
    fillet1_edges = [part_6.edges().sort_by_distance(p)[0] for p in [
        (-61, 31, 46),
    ]]
    fillet(fillet1_edges, radius=FILLET1_R)

    # Fillet2
    fillet2_edges = [part_6.edges().sort_by_distance(p)[0] for p in [
        (61, 31, 46),
    ]]
    fillet(fillet2_edges, radius=FILLET2_R)

    # Fillet3
    fillet3_edges = [part_6.edges().sort_by_distance(p)[0] for p in [
        (61, 31, -46),
    ]]
    fillet(fillet3_edges, radius=FILLET3_R)

    # Fillet4
    fillet4_edges = [part_6.edges().sort_by_distance(p)[0] for p in [
        (-61, 31, -46),
    ]]
    fillet(fillet4_edges, radius=FILLET4_R)

    # Fillet5
    fillet5_edges = [part_6.edges().sort_by_distance(p)[0] for p in [
        (-70, 29.25, -55),
    ]]
    fillet(fillet5_edges, radius=FILLET5_R)

    # Fillet6
    fillet6_edges = [part_6.edges().sort_by_distance(p)[0] for p in [
        (70, 29.25, -55),
    ]]
    fillet(fillet6_edges, radius=FILLET6_R)

    # Fillet7
    fillet7_edges = [part_6.edges().sort_by_distance(p)[0] for p in [
        (70, 29.25, 55),
    ]]
    fillet(fillet7_edges, radius=FILLET7_R)

    # Fillet8
    fillet8_edges = [part_6.edges().sort_by_distance(p)[0] for p in [
        (-70, 29.25, 55),
    ]]
    fillet(fillet8_edges, radius=FILLET8_R)

    # M4 Mount → M4 Mount Cut (cut, through all)
    with BuildSketch(Plane.XZ.offset(-3.5)):
        with Locations(Location((48, -15, 0), (0, 0, 270))):
            Circle(M4_MOUNT_R)
        with Locations(Location((48, 20, 0), (0, 0, 270))):
            Circle(M4_MOUNT_R)
        with Locations(Location((-48, 20, 0), (0, 0, 90))):
            Circle(M4_MOUNT_R)
        with Locations(Location((-48, -15, 0), (0, 0, 90))):
            Circle(M4_MOUNT_R)
    extrude(amount=M4_MOUNT_CUT_DEPTH, mode=Mode.SUBTRACT)

    # Cut-Extrude3 cone 1 section (through the dimple's axis) → Cut-Extrude3 (revolve, cut)
    with BuildSketch(Plane(origin=(48, 3.5, 20), x_dir=(0, 0, 1), z_dir=(1, 0, 0))):
        Polygon((0, 0), (3.75, 0), (0, 3.75), align=None)
    revolve(axis=Axis((48, 3.5, 20), (0, -1, 0)), mode=Mode.SUBTRACT)

    # Cut-Extrude3 cone 2 section (through the dimple's axis) → Cut-Extrude3 cone 2 (revolve, cut)
    with BuildSketch(Plane(origin=(48, 3.5, -15), x_dir=(0, 0, 1), z_dir=(1, 0, 0))):
        Polygon((0, 0), (3.75, 0), (0, 3.75), align=None)
    revolve(axis=Axis((48, 3.5, -15), (0, -1, 0)), mode=Mode.SUBTRACT)

    # Cut-Extrude3 cone 3 section (through the dimple's axis) → Cut-Extrude3 cone 3 (revolve, cut)
    with BuildSketch(Plane(origin=(-48, 3.5, -15), x_dir=(0, 0, 1), z_dir=(1, 0, 0))):
        Polygon((0, 0), (3.75, 0), (0, 3.75), align=None)
    revolve(axis=Axis((-48, 3.5, -15), (0, -1, 0)), mode=Mode.SUBTRACT)

    # Cut-Extrude3 cone 4 section (through the dimple's axis) → Cut-Extrude3 cone 4 (revolve, cut)
    with BuildSketch(Plane(origin=(-48, 3.5, 20), x_dir=(0, 0, 1), z_dir=(1, 0, 0))):
        Polygon((0, 0), (3.75, 0), (0, 3.75), align=None)
    revolve(axis=Axis((-48, 3.5, 20), (0, -1, 0)), mode=Mode.SUBTRACT)

    # Sketch7 → USB Cabel Cut (cut, through all)
    with BuildSketch(Plane.XZ):
        with Locations(Location((41, -32, 0), (0, 0, 270))):
            Circle(SKETCH7_R)
    extrude(amount=-USB_CABEL_CUT_DEPTH, mode=Mode.SUBTRACT)

    # Fillet9
    fillet9_edges = [part_6.edges().sort_by_distance(p)[0] for p in [
        (41, 0, -24.5),
    ]]
    fillet(fillet9_edges, radius=FILLET9_R)

    # Fillet10
    fillet10_edges = [part_6.edges().sort_by_distance(p)[0] for p in [
        (41, 3.5, -24.5),
    ]]
    fillet(fillet10_edges, radius=FILLET10_R)

    # Sketch14 → Boss-Extrude1 (add)
    with BuildSketch(Plane(origin=(0, 3.5, 0), x_dir=(1, 0, 0), z_dir=(0, 1, 0))):
        with Locations((55, 33.5)):
            Rectangle(SKETCH14_W, SKETCH14_H)
    extrude(amount=BOSS_EXTRUDE1_DEPTH)

    # Sketch16 → Cut-Extrude6 (cut)
    with BuildSketch(Plane(origin=(18.18080474, 0, -30), x_dir=(-1, 0, 0), z_dir=(0, 0, -1))):
        with Locations((-36.81919526, 5)):
            Rectangle(SKETCH16_W, SKETCH16_H)
    extrude(amount=CUT_EXTRUDE6_DEPTH, mode=Mode.SUBTRACT)

    # Sketch9 → Curcuit Board Mount Posts EXT (add)
    with BuildSketch(Plane(origin=(0, 3.5, 0), x_dir=(1, 0, 0), z_dir=(0, 1, 0))):
        with Locations(Location((-8.5, -39, 0), (0, 0, 270))):
            Circle(SKETCH9_R)
        with Locations(Location((5, 36, 0), (0, 0, 270))):
            Circle(SKETCH9_R)
    extrude(amount=CURCUIT_BOARD_MOUNT_POSTS_EXT_DEPTH)

    # Sketch10 → M3 Screw Curcuit Mount CUT (cut, through all)
    with BuildSketch(Plane(origin=(0, 10.5, 0), x_dir=(1, 0, 0), z_dir=(0, 1, 0))):
        with Locations(Location((5, 36, 0), (0, 0, 270))):
            Circle(SKETCH10_R)
        with Locations(Location((-8.5, -39, 0), (0, 0, 270))):
            Circle(SKETCH10_R)
    extrude(amount=-M3_SCREW_CURCUIT_MOUNT_CUT_DEPTH, mode=Mode.SUBTRACT)

    # Sketch11 → M3 Head Circuit Mount CUT (cut)
    with BuildSketch(Plane.XZ):
        Polygon((-10.941005853, 37.733512563), (-8.623692632, 36.252783202), (-6.18268678, 37.519270639), (-6.058994147, 40.266487437), (-8.376307368, 41.747216798), (-10.81731322, 40.480729361), align=None)
        Polygon((5, -39.175426481), (7.75, -37.58771324), (7.75, -34.41228676), (5, -32.824573519), (2.25, -34.41228676), (2.25, -37.58771324), align=None)
    extrude(amount=-M3_HEAD_CIRCUIT_MOUNT_CUT_DEPTH, mode=Mode.SUBTRACT)

    # Fillet15
    fillet15_edges = [part_6.edges().sort_by_distance(p)[0] for p in [
        (5, 10.5, -39.25),
    ]]
    fillet(fillet15_edges, radius=FILLET15_R)

    # Fillet16
    fillet16_edges = [part_6.edges().sort_by_distance(p)[0] for p in [
        (-8.5, 10.5, 35.75),
    ]]
    fillet(fillet16_edges, radius=FILLET16_R)

    # Sketch18 → TOP-Screw (cut)
    with BuildSketch(Plane(origin=(0, 0, -55), x_dir=(-1, 0, 0), z_dir=(0, 0, -1))):
        with Locations((-33, 34.25)):
            Circle(SKETCH18_R)
        with Locations((33, 34.25)):
            Circle(SKETCH18_R)
        with Locations((-9, 14.25)):
            Circle(SKETCH18_R)
        with Locations(Location((9, 14.25, 0), (0, 0, 180))):
            Circle(SKETCH18_R)
    extrude(amount=-TOP_SCREW_DEPTH, mode=Mode.SUBTRACT)

    # Sketch19 → TOP-Cables (cut)
    with BuildSketch(Plane.XY.offset(-52)):
        with Locations((30, 6)):
            Rectangle(SKETCH19_W, SKETCH19_H)
    extrude(amount=-TOP_CABLES_DEPTH, mode=Mode.SUBTRACT)

    # Sketch20 → Bottom-Cables (cut)
    with BuildSketch(Plane.XY.offset(55)):
        with Locations((30, 6)):
            Rectangle(SKETCH20_W, SKETCH20_H)
    extrude(amount=-BOTTOM_CABLES_DEPTH, mode=Mode.SUBTRACT)

    # Sketch21 → Bottom-Screw (cut)
    with BuildSketch(Plane.XY.offset(55).offset(BOTTOM_SCREW_START)):
        with Locations(Location((-33, 34.25, 0), (0, 0, 180))):
            Circle(SKETCH21_R)
        with Locations((-9, 14.25)):
            Circle(SKETCH21_R)
        with Locations(Location((9, 14.25, 0), (0, 0, 180))):
            Circle(SKETCH21_R)
        with Locations(Location((33, 34.25, 0), (0, 0, 180))):
            Circle(SKETCH21_R)
    extrude(amount=BOTTOM_SCREW_DEPTH, mode=Mode.SUBTRACT)

    # Sketch22 → Connectors Cut (cut)
    with BuildSketch(Plane(origin=(0, 3.5, 0), x_dir=(1, 0, 0), z_dir=(0, 1, 0))):
        with Locations((-48, 34.1)):
            Rectangle(SKETCH22_W, SKETCH22_H)
    extrude(amount=-CONNECTORS_CUT_DEPTH, mode=Mode.SUBTRACT)

    # Sketch24 → Standoffs (add)
    with BuildSketch(Plane(origin=(0, 3.5, 0), x_dir=(1, 0, 0), z_dir=(0, 1, 0))):
        with Locations(Location((-59, 23, 0), (0, 0, 270))):
            Circle(SKETCH24_R)
        with Locations(Location((-48, 44.5, 0), (0, 0, 270))):
            Circle(SKETCH24_R)
        with Locations(Location((-37, 23, 0), (0, 0, 270))):
            Circle(SKETCH24_R)
    extrude(amount=STANDOFFS_DEPTH)

    # Sketch23 → M3 Screw Hole (cut, two sides: drawn at the far end of the back side and taken through both)
    with BuildSketch(Plane(origin=(0, 3.5, 0), x_dir=(1, 0, 0), z_dir=(0, 1, 0)).offset(-M3_SCREW_HOLE_DEPTH_BACK)):
        with Locations(Location((-48, 44.5, 0), (0, 0, 270))):
            Circle(SKETCH23_R)
        with Locations(Location((-37, 23, 0), (0, 0, 270))):
            Circle(SKETCH23_R)
        with Locations(Location((-59, 23, 0), (0, 0, 270))):
            Circle(SKETCH23_R)
    extrude(amount=M3_SCREW_HOLE_DEPTH + M3_SCREW_HOLE_DEPTH_BACK, mode=Mode.SUBTRACT)

    # Sketch25 → M3 Nut (cut)
    with BuildSketch(Plane.XZ):
        Polygon((-39.75, -23), (-38.375, -25.38156986), (-35.625, -25.38156986), (-34.25, -23), (-35.625, -20.61843014), (-38.375, -20.61843014), align=None)
        Polygon((-60.375, -25.38156986), (-57.625, -25.38156986), (-56.25, -23), (-57.625, -20.61843014), (-60.375, -20.61843014), (-61.75, -23), align=None)
        Polygon((-49.375, -46.88156986), (-46.625, -46.88156986), (-45.25, -44.5), (-46.625, -42.11843014), (-49.375, -42.11843014), (-50.75, -44.5), align=None)
    extrude(amount=-M3_NUT_DEPTH, mode=Mode.SUBTRACT)

    # Sketch26 → Room for PCB pins (cut)
    with BuildSketch(Plane(origin=(0, 3.5, 0), x_dir=(1, 0, 0), z_dir=(0, 1, 0))):
        with Locations((-48, 23.925)):
            Rectangle(SKETCH26_W, SKETCH26_H)
    extrude(amount=-ROOM_FOR_PCB_PINS_DEPTH, mode=Mode.SUBTRACT)


solid = part_6.part
